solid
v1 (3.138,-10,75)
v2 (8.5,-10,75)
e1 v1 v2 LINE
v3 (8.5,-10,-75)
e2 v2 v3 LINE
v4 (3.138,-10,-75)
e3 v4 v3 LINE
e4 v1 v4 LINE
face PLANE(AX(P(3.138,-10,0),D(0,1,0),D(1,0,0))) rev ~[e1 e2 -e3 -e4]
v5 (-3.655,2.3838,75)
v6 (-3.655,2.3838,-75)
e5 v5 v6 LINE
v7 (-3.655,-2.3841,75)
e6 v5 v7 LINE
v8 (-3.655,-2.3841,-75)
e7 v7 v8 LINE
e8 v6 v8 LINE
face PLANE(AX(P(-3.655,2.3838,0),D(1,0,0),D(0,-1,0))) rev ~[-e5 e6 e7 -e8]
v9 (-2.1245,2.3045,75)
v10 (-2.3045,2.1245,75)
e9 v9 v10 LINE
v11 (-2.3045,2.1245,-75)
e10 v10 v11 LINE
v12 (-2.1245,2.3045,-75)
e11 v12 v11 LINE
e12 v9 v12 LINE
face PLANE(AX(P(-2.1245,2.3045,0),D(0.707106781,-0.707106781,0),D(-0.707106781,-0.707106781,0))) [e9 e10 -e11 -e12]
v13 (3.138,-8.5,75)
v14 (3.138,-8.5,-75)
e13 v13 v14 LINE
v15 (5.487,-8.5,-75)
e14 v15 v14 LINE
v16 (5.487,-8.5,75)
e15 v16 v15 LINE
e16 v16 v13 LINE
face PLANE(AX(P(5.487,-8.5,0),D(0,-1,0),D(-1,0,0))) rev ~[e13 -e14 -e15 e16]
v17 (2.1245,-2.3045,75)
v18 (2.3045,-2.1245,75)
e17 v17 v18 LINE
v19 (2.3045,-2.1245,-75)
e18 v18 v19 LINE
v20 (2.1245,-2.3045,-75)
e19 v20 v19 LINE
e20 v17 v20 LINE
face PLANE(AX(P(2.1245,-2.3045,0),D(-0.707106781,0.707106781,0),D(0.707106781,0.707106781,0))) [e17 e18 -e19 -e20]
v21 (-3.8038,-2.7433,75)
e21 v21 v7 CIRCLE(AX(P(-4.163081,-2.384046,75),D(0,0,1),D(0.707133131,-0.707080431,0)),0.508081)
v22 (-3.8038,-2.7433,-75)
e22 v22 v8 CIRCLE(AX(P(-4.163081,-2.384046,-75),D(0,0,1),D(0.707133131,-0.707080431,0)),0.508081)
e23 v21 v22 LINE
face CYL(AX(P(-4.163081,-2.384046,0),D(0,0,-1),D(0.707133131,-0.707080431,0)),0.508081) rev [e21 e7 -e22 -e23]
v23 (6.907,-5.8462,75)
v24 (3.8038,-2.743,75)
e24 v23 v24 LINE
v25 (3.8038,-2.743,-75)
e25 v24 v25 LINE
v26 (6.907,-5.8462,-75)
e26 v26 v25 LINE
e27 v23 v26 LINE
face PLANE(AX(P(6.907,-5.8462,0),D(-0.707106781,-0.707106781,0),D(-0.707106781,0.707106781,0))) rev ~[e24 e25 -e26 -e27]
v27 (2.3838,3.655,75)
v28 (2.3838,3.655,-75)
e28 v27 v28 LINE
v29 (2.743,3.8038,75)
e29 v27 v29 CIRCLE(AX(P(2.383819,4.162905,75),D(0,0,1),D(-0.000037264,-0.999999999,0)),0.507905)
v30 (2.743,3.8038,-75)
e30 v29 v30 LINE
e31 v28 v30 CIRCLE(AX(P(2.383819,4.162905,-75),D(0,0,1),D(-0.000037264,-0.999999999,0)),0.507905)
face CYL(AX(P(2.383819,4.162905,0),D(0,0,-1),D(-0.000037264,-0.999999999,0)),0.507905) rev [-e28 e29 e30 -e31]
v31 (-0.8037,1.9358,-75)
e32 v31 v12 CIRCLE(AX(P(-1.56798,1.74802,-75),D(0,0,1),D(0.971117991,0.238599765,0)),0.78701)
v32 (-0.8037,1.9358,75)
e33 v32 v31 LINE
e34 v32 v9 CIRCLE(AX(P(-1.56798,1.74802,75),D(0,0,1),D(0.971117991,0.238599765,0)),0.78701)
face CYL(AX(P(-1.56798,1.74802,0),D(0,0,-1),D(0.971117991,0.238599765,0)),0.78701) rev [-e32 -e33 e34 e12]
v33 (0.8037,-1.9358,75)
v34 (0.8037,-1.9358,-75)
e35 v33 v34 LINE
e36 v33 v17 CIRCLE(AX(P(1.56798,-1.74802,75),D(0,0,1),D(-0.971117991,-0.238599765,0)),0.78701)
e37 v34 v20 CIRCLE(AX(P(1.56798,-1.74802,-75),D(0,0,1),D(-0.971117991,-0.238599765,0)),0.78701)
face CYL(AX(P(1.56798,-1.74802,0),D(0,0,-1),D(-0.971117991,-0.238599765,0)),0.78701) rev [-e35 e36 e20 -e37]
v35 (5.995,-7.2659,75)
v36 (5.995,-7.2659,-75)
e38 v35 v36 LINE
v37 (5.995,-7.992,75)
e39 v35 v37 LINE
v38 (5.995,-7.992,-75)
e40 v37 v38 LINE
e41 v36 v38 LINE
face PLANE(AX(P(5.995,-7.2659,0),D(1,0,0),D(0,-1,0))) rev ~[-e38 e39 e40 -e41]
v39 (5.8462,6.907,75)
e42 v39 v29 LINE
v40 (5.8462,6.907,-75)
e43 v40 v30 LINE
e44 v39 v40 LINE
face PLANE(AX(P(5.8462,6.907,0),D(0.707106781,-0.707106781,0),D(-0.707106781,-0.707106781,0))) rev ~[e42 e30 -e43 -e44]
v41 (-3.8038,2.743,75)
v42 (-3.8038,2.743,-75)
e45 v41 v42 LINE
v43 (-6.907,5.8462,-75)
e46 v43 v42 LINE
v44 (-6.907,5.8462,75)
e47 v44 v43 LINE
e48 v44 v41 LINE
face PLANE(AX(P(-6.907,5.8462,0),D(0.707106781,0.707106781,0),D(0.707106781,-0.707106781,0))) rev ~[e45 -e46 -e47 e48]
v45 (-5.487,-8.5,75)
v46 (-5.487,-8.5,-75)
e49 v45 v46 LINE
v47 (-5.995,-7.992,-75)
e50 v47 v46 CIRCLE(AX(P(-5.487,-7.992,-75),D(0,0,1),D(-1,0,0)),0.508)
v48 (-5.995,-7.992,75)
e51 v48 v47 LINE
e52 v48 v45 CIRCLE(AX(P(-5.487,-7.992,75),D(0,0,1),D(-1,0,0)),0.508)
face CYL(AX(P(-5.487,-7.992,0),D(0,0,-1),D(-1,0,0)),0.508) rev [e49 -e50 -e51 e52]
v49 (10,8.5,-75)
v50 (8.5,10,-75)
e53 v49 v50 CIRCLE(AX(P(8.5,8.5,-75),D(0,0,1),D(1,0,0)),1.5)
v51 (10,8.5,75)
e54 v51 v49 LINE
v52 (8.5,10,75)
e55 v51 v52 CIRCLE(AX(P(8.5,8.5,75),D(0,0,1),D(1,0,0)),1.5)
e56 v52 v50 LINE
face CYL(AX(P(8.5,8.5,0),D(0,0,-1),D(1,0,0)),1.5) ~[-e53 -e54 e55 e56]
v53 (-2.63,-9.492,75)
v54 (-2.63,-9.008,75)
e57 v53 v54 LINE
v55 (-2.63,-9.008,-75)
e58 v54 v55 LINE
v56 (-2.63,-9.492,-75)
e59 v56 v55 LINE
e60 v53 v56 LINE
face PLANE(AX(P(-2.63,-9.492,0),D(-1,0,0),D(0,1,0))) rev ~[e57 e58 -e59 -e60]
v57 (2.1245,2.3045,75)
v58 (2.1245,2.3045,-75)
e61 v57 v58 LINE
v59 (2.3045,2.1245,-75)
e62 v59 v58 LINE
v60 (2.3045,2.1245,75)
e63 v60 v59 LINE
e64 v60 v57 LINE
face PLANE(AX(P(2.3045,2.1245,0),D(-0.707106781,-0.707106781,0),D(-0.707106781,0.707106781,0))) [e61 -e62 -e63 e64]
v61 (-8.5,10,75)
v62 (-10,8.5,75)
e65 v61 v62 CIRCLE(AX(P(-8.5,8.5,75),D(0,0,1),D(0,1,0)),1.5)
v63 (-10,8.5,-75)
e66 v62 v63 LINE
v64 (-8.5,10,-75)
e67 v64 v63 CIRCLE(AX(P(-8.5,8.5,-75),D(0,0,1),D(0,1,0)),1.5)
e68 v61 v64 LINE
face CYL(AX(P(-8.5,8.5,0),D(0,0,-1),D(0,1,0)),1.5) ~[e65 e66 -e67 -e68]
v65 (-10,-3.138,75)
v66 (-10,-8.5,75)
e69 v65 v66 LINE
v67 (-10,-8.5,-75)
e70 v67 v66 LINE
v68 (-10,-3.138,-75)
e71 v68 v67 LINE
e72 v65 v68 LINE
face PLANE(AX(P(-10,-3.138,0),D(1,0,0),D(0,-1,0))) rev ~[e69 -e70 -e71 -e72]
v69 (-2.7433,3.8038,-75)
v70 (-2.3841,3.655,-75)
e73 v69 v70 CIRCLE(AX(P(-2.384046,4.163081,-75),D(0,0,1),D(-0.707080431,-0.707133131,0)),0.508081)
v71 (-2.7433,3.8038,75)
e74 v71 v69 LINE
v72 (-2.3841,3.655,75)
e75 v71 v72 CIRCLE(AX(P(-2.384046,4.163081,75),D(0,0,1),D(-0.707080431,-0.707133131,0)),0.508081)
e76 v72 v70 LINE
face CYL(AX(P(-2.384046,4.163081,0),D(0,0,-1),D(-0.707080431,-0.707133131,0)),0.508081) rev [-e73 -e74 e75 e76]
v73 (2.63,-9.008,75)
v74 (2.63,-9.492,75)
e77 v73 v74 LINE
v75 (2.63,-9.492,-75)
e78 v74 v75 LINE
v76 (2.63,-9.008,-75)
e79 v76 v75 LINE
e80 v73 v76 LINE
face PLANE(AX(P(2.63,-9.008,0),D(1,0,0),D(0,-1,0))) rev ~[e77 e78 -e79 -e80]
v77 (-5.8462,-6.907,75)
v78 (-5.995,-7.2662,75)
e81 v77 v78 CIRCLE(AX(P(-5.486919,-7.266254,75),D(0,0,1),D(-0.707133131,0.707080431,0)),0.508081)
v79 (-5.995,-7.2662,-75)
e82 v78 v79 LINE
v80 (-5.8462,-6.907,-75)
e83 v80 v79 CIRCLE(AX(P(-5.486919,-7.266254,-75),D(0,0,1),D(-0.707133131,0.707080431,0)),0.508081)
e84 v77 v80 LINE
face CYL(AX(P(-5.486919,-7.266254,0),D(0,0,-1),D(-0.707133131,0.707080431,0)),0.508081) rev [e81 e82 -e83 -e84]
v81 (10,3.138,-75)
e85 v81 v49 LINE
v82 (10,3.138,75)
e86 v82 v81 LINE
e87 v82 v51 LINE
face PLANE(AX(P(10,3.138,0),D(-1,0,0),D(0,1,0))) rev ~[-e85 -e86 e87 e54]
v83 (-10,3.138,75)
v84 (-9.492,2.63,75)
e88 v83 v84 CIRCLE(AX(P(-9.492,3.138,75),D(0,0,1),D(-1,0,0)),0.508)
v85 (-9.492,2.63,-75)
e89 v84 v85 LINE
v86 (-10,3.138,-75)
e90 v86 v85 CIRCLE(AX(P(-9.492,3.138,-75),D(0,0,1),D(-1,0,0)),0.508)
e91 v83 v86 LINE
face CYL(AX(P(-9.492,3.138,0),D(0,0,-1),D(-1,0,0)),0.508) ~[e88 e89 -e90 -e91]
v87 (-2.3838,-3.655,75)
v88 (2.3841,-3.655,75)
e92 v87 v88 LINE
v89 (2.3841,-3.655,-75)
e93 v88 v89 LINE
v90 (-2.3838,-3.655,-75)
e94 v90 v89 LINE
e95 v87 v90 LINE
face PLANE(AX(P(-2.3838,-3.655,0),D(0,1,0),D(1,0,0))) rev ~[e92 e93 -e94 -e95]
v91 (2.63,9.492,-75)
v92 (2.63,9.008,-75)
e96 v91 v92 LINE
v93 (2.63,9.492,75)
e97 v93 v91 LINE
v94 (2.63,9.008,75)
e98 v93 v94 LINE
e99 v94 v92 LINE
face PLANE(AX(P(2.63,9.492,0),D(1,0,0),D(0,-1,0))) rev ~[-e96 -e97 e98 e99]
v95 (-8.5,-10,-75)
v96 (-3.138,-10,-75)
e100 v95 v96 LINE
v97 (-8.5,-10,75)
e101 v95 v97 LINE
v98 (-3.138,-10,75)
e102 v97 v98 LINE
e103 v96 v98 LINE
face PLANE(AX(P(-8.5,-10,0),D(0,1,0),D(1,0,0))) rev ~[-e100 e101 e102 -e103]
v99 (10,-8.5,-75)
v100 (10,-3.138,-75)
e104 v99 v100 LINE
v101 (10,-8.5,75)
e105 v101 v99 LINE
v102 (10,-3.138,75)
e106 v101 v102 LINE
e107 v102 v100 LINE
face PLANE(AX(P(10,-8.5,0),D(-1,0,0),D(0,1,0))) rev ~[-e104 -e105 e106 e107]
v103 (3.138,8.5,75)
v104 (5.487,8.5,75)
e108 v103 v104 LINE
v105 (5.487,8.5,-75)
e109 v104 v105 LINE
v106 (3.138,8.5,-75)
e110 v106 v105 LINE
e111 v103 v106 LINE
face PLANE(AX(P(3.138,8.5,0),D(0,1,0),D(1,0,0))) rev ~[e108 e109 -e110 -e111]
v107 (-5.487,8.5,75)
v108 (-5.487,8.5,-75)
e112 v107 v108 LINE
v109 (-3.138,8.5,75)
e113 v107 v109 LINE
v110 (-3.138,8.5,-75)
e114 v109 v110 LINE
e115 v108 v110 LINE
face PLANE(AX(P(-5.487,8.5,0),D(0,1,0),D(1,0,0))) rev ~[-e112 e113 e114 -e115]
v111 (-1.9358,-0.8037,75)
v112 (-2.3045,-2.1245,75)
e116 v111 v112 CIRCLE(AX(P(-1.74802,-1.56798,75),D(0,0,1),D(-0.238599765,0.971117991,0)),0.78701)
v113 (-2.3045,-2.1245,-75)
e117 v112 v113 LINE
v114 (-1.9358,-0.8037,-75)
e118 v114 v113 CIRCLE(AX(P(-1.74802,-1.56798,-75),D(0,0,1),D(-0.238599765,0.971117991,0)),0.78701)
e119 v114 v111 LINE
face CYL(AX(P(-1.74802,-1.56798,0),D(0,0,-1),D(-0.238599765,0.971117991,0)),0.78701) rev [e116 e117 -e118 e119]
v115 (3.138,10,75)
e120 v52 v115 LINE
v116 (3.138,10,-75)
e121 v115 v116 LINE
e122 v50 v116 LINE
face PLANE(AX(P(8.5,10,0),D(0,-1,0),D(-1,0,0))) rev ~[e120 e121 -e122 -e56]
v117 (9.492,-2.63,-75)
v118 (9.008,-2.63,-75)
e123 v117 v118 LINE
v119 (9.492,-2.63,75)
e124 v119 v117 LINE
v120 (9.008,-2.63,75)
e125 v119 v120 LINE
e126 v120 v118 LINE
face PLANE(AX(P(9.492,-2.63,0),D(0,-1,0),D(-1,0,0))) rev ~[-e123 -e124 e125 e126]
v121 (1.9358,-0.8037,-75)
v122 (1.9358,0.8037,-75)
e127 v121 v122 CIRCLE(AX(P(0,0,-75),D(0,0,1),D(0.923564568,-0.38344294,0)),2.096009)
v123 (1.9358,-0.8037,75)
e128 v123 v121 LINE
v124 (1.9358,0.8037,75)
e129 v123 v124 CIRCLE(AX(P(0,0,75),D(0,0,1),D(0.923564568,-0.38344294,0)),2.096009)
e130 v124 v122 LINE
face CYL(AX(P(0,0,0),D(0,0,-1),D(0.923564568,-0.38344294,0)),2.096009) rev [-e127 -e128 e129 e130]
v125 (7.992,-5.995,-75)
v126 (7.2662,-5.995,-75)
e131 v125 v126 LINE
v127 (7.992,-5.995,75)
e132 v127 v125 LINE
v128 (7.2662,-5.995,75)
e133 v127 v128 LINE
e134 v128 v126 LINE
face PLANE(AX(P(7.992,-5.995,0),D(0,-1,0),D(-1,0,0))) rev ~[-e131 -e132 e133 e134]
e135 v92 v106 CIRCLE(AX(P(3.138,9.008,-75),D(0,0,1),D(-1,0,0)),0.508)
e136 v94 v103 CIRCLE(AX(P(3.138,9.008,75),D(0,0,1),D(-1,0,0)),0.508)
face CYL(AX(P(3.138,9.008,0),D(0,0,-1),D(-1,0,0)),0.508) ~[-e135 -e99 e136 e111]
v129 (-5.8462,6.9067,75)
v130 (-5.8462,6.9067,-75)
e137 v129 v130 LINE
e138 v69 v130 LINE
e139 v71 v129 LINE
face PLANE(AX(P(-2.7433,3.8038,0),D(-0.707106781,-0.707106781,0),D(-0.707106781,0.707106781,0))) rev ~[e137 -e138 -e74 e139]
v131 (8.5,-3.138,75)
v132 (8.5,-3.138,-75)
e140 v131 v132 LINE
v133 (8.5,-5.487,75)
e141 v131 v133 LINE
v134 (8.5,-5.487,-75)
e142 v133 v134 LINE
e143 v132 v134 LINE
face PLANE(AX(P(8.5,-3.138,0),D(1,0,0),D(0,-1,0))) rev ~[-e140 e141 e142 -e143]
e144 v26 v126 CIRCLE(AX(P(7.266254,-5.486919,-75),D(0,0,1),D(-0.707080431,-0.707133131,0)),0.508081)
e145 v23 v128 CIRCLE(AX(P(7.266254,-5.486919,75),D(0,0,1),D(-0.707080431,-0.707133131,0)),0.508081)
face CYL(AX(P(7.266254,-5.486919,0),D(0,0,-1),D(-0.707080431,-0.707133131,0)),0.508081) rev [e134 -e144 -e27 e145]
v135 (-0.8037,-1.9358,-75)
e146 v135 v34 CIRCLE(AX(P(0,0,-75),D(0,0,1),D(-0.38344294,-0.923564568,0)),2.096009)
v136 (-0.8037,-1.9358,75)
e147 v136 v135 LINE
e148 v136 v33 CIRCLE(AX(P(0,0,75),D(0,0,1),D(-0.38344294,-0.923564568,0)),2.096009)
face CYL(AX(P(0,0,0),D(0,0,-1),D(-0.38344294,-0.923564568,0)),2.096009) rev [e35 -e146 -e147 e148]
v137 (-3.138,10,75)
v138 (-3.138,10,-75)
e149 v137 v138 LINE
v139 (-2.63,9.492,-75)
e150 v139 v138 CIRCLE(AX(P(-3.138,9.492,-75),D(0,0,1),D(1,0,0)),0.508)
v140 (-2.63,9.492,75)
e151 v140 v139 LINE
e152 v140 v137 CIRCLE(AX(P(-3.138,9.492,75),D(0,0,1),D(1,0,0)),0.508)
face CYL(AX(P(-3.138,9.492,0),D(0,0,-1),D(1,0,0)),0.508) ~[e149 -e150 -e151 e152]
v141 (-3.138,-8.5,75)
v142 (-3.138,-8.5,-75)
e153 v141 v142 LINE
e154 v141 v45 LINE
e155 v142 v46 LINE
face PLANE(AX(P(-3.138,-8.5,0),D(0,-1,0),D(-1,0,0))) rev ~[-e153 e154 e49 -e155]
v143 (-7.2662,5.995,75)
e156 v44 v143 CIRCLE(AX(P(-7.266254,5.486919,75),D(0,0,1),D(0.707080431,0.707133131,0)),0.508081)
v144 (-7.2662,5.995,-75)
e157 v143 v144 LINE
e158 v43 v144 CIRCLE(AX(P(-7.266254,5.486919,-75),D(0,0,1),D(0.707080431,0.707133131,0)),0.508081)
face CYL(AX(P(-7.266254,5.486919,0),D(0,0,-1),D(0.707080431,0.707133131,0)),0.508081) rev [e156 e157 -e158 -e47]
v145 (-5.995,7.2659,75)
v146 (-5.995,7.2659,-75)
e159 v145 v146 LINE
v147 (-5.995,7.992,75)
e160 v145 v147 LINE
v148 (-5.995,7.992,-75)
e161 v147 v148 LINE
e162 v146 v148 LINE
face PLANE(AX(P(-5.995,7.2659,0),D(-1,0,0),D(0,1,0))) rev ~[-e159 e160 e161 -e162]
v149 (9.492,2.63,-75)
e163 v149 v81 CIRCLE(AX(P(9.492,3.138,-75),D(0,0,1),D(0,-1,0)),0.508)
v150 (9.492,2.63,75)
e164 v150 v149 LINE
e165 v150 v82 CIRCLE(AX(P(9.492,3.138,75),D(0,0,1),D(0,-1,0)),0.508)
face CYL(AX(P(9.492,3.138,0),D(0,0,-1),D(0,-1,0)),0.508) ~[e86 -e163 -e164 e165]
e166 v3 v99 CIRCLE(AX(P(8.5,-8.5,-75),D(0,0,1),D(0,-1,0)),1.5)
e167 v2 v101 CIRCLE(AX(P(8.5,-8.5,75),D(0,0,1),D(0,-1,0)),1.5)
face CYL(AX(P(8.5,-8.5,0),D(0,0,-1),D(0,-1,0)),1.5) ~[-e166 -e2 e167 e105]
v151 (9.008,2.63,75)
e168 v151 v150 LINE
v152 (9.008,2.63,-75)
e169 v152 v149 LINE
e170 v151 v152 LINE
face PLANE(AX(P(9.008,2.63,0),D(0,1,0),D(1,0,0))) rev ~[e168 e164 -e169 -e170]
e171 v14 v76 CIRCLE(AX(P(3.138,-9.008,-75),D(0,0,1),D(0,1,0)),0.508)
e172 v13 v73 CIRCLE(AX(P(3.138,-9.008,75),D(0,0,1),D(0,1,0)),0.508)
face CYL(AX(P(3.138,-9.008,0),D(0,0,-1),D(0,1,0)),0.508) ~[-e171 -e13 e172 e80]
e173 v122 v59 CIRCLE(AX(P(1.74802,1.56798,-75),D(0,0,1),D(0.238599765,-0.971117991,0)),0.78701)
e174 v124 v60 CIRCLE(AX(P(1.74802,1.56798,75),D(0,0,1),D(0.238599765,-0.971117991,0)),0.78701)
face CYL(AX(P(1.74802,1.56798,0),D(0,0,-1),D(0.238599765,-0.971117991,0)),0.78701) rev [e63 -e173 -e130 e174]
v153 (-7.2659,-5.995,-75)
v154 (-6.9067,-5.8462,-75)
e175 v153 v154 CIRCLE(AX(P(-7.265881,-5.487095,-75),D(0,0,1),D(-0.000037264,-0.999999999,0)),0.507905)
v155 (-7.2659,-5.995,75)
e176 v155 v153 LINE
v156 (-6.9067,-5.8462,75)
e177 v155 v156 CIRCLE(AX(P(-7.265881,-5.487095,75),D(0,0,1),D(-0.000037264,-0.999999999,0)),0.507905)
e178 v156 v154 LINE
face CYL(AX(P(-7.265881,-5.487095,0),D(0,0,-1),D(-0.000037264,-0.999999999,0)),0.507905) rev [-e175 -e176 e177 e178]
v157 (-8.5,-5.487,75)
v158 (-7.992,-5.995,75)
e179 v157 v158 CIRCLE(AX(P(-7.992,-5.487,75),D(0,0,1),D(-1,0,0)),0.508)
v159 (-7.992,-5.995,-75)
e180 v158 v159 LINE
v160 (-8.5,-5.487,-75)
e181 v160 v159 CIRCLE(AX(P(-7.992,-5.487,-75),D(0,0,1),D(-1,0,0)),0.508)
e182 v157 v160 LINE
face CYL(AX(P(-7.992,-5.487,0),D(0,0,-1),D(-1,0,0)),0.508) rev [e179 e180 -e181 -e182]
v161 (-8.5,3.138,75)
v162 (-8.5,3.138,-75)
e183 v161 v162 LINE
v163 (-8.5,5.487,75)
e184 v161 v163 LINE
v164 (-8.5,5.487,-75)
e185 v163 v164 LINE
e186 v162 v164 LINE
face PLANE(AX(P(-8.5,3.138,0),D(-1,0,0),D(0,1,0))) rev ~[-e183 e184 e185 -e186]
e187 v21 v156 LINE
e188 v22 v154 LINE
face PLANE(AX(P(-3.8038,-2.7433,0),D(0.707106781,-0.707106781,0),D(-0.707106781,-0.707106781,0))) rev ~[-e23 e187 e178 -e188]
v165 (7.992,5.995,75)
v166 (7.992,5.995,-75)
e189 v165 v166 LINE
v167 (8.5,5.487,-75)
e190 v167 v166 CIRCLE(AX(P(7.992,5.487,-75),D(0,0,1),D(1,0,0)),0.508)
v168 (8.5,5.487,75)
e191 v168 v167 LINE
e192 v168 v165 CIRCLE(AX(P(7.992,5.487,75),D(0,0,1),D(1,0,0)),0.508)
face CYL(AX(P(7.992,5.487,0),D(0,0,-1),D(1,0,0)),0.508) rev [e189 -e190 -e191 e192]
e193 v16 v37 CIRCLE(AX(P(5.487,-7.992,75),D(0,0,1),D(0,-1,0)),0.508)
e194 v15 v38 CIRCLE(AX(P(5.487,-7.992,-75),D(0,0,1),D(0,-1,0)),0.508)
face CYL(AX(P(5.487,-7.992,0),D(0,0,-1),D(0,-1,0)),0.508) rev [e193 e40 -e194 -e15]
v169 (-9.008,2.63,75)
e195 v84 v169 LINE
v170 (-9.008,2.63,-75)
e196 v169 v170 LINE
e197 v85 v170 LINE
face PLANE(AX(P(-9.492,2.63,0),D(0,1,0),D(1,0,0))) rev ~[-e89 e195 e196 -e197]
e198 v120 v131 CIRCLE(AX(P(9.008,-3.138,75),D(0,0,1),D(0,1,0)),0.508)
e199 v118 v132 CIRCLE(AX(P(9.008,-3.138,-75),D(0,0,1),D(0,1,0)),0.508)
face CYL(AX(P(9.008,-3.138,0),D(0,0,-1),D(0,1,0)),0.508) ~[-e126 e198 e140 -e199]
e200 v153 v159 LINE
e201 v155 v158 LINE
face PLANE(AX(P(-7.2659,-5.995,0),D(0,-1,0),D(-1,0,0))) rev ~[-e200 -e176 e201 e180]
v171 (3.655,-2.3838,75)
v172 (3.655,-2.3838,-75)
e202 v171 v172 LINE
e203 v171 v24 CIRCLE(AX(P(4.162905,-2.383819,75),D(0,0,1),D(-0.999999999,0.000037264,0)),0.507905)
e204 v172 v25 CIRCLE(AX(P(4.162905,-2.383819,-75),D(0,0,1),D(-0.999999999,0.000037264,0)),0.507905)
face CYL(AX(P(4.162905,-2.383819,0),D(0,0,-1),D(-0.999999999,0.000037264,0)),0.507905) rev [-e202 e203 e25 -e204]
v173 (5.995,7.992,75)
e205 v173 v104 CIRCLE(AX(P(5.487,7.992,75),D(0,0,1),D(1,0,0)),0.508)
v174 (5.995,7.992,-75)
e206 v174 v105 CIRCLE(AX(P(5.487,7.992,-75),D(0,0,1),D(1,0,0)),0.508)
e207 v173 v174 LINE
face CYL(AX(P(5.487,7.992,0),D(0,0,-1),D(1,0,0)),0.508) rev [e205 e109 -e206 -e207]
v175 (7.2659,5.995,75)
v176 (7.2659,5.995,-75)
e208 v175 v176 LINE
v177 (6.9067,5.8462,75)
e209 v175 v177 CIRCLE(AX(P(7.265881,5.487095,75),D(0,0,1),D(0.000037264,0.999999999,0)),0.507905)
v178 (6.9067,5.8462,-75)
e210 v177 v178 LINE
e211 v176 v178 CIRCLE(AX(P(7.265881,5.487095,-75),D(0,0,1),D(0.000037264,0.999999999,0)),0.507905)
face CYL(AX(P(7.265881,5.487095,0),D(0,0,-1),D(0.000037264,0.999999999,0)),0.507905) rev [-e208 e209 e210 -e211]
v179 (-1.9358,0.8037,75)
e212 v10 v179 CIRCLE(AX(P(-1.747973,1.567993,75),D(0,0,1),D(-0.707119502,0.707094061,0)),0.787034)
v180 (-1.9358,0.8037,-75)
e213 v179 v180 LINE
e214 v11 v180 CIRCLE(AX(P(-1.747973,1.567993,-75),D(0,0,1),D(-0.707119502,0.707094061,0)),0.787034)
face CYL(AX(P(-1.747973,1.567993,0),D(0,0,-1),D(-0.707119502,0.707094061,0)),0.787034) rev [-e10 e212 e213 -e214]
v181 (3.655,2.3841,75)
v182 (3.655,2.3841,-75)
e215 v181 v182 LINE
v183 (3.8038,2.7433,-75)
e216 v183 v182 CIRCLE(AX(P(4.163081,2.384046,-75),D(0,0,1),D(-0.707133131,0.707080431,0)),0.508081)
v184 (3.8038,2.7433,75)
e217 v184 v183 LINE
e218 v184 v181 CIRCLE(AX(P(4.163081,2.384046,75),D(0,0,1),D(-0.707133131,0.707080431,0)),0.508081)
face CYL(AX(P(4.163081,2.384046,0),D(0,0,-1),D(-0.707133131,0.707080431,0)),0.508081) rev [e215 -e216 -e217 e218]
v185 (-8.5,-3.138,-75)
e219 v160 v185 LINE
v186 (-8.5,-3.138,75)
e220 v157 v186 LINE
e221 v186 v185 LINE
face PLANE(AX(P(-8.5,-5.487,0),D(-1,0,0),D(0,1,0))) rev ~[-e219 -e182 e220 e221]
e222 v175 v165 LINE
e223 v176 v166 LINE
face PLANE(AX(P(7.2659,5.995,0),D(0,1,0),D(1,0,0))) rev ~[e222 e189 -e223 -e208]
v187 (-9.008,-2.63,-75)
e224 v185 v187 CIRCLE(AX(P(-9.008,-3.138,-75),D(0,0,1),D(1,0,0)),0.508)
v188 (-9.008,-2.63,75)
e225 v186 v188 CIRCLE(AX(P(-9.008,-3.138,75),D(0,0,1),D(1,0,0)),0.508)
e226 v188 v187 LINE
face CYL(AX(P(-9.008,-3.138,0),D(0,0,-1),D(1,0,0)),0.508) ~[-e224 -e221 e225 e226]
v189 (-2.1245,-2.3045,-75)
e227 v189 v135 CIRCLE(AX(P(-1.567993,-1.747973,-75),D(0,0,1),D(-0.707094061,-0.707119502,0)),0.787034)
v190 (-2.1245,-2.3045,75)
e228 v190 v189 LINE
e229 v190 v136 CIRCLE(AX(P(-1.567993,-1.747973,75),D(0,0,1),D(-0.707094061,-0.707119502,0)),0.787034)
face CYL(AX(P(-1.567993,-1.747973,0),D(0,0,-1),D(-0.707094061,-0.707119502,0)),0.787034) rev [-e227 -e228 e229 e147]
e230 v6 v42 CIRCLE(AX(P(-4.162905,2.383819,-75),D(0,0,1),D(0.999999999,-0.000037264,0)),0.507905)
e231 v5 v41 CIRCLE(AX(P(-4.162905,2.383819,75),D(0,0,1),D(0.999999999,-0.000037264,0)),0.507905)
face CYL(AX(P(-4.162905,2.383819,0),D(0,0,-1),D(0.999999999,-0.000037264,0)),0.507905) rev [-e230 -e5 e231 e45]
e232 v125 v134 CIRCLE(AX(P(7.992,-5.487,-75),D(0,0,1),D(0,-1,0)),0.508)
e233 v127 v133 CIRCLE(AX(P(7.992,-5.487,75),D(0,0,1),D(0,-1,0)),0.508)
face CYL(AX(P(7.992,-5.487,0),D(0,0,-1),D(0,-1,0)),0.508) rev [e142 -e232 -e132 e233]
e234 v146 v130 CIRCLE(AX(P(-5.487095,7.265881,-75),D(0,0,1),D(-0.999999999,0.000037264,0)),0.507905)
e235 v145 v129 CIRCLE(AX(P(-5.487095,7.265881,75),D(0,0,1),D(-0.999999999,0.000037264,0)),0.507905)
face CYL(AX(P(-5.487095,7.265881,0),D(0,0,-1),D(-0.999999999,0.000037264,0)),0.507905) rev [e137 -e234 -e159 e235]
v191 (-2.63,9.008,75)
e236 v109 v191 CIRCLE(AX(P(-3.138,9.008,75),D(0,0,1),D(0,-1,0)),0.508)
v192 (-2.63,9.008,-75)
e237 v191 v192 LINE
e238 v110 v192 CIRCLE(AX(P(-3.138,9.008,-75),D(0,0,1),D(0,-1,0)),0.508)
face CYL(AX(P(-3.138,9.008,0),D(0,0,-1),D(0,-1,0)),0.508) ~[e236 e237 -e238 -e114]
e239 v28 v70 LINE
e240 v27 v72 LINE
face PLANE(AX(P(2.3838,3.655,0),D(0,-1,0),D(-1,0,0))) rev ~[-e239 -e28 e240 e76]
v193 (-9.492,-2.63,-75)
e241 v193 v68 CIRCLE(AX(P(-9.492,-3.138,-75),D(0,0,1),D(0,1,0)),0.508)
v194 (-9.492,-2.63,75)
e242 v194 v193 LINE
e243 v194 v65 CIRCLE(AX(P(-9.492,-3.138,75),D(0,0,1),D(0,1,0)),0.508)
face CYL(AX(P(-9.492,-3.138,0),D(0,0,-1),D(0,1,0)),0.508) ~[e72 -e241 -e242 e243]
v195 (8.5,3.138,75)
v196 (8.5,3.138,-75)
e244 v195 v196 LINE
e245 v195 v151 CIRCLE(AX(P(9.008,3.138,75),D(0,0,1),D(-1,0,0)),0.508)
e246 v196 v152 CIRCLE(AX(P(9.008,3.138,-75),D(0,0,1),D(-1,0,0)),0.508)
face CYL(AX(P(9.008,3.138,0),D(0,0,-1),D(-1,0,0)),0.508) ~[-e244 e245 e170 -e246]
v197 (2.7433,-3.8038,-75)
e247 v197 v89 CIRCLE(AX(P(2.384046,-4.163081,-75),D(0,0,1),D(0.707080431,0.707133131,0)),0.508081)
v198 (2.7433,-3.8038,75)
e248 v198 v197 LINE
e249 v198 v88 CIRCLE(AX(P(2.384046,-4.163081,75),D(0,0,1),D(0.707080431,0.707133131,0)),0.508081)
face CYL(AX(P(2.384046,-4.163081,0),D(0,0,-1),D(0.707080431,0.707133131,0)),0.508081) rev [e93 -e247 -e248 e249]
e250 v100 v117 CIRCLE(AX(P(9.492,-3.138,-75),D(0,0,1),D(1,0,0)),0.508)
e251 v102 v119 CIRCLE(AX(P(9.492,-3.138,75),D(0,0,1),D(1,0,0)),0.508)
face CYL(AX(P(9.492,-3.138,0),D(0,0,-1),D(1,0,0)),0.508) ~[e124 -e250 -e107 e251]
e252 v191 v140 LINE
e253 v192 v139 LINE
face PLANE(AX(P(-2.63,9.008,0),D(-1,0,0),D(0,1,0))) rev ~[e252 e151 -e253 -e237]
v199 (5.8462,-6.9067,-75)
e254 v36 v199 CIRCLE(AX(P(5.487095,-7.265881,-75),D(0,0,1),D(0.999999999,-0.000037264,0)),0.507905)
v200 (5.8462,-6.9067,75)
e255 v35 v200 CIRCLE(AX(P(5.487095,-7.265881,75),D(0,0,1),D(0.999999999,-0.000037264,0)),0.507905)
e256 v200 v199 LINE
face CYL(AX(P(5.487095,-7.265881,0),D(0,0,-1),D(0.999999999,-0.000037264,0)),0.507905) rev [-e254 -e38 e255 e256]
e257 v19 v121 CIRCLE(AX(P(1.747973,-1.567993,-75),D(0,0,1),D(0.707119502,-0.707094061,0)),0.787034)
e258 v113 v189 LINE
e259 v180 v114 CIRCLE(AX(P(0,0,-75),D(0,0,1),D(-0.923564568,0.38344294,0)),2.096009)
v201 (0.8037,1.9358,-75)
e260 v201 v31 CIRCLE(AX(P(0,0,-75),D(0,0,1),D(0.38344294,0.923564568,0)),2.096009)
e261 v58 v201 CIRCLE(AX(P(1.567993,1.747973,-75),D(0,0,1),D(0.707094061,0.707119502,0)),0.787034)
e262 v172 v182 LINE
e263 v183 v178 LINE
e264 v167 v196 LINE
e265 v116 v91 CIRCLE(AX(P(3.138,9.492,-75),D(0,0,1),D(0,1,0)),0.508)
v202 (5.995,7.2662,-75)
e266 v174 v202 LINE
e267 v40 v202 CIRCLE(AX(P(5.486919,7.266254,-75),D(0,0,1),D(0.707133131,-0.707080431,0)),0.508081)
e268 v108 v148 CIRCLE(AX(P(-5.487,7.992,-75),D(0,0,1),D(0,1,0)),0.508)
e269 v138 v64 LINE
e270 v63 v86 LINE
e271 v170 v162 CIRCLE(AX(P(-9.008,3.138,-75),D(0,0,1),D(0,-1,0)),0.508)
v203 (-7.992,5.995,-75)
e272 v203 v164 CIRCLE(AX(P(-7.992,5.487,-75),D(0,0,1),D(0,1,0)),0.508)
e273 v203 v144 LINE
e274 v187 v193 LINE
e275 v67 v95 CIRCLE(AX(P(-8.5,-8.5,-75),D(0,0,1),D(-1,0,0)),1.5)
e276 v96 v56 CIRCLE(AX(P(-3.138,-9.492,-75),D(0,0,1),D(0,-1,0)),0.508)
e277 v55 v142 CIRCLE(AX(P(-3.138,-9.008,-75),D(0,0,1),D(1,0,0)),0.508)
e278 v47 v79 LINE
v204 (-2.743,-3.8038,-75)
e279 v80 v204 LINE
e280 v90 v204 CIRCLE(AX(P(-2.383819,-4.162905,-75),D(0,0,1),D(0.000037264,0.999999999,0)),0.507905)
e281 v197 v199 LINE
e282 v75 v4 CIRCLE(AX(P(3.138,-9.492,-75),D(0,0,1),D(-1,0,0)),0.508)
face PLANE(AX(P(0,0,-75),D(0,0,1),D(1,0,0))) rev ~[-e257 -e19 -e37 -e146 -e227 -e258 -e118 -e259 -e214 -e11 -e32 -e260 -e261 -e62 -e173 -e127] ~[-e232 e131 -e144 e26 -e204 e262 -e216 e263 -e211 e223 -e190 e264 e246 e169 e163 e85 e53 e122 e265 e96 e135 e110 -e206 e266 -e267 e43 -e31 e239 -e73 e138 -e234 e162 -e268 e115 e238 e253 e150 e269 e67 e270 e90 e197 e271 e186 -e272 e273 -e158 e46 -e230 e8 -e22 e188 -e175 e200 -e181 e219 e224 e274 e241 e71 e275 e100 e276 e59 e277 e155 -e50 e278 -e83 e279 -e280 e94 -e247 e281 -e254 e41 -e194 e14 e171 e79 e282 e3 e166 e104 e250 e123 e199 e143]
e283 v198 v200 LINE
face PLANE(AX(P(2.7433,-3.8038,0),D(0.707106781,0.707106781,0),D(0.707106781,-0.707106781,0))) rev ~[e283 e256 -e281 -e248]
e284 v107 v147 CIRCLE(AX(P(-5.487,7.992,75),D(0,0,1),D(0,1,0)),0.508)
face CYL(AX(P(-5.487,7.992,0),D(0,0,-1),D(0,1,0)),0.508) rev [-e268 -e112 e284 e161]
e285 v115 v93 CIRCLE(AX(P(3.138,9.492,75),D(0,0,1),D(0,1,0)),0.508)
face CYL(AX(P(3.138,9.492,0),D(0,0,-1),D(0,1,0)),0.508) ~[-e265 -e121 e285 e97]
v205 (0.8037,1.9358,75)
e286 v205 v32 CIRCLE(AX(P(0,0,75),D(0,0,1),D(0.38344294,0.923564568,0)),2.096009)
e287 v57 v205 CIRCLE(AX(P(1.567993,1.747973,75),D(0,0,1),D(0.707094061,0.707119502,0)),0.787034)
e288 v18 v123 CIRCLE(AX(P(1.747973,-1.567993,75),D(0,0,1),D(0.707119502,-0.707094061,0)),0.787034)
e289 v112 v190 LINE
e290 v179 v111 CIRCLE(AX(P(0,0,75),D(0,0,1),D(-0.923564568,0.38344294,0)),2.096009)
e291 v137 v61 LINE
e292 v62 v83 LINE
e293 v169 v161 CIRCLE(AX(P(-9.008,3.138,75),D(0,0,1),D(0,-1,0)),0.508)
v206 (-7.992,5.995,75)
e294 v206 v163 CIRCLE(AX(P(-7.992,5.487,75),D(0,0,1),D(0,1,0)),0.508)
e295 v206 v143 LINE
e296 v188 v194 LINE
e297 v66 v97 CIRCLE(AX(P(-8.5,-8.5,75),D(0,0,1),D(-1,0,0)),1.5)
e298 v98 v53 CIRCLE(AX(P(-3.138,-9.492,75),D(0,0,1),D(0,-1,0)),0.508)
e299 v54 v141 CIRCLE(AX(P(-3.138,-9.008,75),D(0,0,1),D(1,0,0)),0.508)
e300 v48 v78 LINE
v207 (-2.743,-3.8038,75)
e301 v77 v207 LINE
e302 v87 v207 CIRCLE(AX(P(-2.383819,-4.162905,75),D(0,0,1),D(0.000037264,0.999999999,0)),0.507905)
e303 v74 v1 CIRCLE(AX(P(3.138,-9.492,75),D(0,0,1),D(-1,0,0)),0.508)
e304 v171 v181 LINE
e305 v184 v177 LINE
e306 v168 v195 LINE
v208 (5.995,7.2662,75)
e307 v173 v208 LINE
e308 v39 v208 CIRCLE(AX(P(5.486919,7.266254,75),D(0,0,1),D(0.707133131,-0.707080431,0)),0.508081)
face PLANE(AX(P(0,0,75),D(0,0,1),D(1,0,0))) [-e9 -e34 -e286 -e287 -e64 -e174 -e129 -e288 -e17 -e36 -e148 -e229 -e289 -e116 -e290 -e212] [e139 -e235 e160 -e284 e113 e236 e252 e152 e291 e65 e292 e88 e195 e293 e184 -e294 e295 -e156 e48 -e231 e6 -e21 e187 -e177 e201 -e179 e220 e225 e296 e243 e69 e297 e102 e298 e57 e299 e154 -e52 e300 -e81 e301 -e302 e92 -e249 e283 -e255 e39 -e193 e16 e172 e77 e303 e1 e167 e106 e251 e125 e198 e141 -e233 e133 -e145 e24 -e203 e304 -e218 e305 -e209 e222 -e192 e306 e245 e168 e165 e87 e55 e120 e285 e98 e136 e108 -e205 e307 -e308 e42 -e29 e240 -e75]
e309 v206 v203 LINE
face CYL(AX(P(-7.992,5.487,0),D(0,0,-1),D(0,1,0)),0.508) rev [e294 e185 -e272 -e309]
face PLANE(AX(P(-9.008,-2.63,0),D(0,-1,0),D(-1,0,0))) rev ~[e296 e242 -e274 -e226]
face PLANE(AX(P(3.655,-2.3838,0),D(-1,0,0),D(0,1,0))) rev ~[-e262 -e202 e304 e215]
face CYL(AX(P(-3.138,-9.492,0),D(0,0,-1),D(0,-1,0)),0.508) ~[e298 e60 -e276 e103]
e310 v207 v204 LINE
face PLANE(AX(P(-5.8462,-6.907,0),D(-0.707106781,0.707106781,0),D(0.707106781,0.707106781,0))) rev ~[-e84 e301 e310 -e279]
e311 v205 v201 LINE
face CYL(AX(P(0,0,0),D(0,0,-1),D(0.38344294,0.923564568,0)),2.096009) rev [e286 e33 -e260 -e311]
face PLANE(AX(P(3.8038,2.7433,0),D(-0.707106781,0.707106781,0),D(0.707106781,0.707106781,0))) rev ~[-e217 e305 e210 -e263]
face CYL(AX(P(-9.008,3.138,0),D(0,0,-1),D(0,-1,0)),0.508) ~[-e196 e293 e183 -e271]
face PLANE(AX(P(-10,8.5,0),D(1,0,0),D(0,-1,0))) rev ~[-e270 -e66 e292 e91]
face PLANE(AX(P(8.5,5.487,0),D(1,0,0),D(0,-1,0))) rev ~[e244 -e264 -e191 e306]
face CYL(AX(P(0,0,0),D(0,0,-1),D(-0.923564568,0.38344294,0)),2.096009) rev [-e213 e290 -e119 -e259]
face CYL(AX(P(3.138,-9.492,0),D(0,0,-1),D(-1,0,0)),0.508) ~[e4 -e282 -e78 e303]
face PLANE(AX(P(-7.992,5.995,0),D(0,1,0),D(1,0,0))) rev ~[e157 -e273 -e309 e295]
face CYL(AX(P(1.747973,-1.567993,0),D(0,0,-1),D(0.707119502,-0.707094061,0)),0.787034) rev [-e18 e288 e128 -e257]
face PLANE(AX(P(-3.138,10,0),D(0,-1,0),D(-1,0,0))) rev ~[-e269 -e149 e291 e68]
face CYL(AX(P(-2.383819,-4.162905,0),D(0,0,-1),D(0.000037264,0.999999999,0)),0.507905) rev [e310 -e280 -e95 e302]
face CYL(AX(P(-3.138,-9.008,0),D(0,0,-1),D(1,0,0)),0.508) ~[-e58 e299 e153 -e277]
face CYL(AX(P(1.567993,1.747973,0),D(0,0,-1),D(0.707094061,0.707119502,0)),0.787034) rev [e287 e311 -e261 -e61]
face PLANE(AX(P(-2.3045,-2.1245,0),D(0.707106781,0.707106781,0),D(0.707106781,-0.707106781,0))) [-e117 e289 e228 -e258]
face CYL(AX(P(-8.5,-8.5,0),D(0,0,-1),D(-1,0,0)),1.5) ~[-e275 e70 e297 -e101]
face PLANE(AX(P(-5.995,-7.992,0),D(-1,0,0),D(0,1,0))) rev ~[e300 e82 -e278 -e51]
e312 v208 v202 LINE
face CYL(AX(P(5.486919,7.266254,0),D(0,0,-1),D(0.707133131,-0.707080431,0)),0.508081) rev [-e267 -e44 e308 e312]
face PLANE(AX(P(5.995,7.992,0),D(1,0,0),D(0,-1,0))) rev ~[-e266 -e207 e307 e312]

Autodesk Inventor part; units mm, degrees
ref_plane "YZ Plane" through (0, 0, 0) normal (1, 0, 0) x (0, 1, 0)
ref_plane "XZ Plane" through (0, 0, 0) normal (0, 1, 0) x (-1, 0, 0)
ref_plane "XY Plane" through (0, 0, 0) normal (0, 0, 1) x (1, 0, 0)
sketch "Sketch1" plane through (0, 0, 0) normal (0, 0, 1) x (1, 0, 0)
  arc A0 (-10, -8.5) -> (-8.5, -10) centre (-8.5, -8.5) ccw
  line L0 (-8.5, -10) -> (-3.138, -10)
  arc A1 (-3.138, -10) -> (-2.63, -9.492) centre (-3.138, -9.492) ccw
  line L1 (-2.63, -9.492) -> (-2.63, -9.008)
  arc A2 (-2.63, -9.008) -> (-3.138, -8.5) centre (-3.138, -9.008) ccw
  line L2 (-3.138, -8.5) -> (-5.487, -8.5)
  arc A3 (-5.995, -7.992) -> (-5.487, -8.5) centre (-5.487, -7.992) ccw
  line L3 (-5.995, -7.992) -> (-5.995, -7.2662)
  arc A4 (-5.8462, -6.907) -> (-5.995, -7.2662) centre (-5.487, -7.2662) ccw
  line L4 (-5.8462, -6.907) -> (-2.743, -3.8038)
  arc A5 (-2.3838, -3.655) -> (-2.743, -3.8038) centre (-2.3838, -4.163) ccw
  line L5 (-2.3838, -3.655) -> (2.3841, -3.655)
  arc A6 (2.7433, -3.8038) -> (2.3841, -3.655) centre (2.3841, -4.163) ccw
  line L6 (2.7433, -3.8038) -> (5.8462, -6.9067)
  arc A7 (5.995, -7.2659) -> (5.8462, -6.9067) centre (5.487, -7.2659) ccw
  line L7 (5.995, -7.2659) -> (5.995, -7.992)
  arc A8 (5.487, -8.5) -> (5.995, -7.992) centre (5.487, -7.992) ccw
  line L8 (5.487, -8.5) -> (3.138, -8.5)
  arc A9 (3.138, -8.5) -> (2.63, -9.008) centre (3.138, -9.008) ccw
  line L9 (2.63, -9.008) -> (2.63, -9.492)
  arc A10 (2.63, -9.492) -> (3.138, -10) centre (3.138, -9.492) ccw
  line L10 (3.138, -10) -> (8.5, -10)
  arc A11 (8.5, -10) -> (10, -8.5) centre (8.5, -8.5) ccw
  line L11 (10, -8.5) -> (10, -3.138)
  arc A12 (10, -3.138) -> (9.492, -2.63) centre (9.492, -3.138) ccw
  line L12 (9.492, -2.63) -> (9.008, -2.63)
  arc A13 (9.008, -2.63) -> (8.5, -3.138) centre (9.008, -3.138) ccw
  line L13 (8.5, -3.138) -> (8.5, -5.487)
  arc A14 (7.992, -5.995) -> (8.5, -5.487) centre (7.992, -5.487) ccw
  line L14 (7.992, -5.995) -> (7.2662, -5.995)
  arc A15 (6.907, -5.8462) -> (7.2662, -5.995) centre (7.2662, -5.487) ccw
  line L15 (6.907, -5.8462) -> (3.8038, -2.743)
  arc A16 (3.655, -2.3838) -> (3.8038, -2.743) centre (4.163, -2.3838) ccw
  line L16 (3.655, -2.3838) -> (3.655, 2.3841)
  arc A17 (3.8038, 2.7433) -> (3.655, 2.3841) centre (4.163, 2.3841) ccw
  line L17 (3.8038, 2.7433) -> (6.9067, 5.8462)
  arc A18 (7.2659, 5.995) -> (6.9067, 5.8462) centre (7.2659, 5.487) ccw
  line L18 (7.2659, 5.995) -> (7.992, 5.995)
  arc A19 (8.5, 5.487) -> (7.992, 5.995) centre (7.992, 5.487) ccw
  line L19 (8.5, 5.487) -> (8.5, 3.138)
  arc A20 (8.5, 3.138) -> (9.008, 2.63) centre (9.008, 3.138) ccw
  line L20 (9.008, 2.63) -> (9.492, 2.63)
  arc A21 (9.492, 2.63) -> (10, 3.138) centre (9.492, 3.138) ccw
  line L21 (10, 3.138) -> (10, 8.5)
  arc A22 (10, 8.5) -> (8.5, 10) centre (8.5, 8.5) ccw
  line L22 (8.5, 10) -> (3.138, 10)
  arc A23 (3.138, 10) -> (2.63, 9.492) centre (3.138, 9.492) ccw
  line L23 (2.63, 9.492) -> (2.63, 9.008)
  arc A24 (2.63, 9.008) -> (3.138, 8.5) centre (3.138, 9.008) ccw
  line L24 (3.138, 8.5) -> (5.487, 8.5)
  arc A25 (5.995, 7.992) -> (5.487, 8.5) centre (5.487, 7.992) ccw
  line L25 (5.995, 7.992) -> (5.995, 7.2662)
  arc A26 (5.8462, 6.907) -> (5.995, 7.2662) centre (5.487, 7.2662) ccw
  line L26 (5.8462, 6.907) -> (2.743, 3.8038)
  arc A27 (2.3838, 3.655) -> (2.743, 3.8038) centre (2.3838, 4.163) ccw
  line L27 (2.3838, 3.655) -> (-2.3841, 3.655)
  arc A28 (-2.7433, 3.8038) -> (-2.3841, 3.655) centre (-2.3841, 4.163) ccw
  line L28 (-2.7433, 3.8038) -> (-5.8462, 6.9067)
  arc A29 (-5.995, 7.2659) -> (-5.8462, 6.9067) centre (-5.487, 7.2659) ccw
  line L29 (-5.995, 7.2659) -> (-5.995, 7.992)
  arc A30 (-5.487, 8.5) -> (-5.995, 7.992) centre (-5.487, 7.992) ccw
  line L30 (-5.487, 8.5) -> (-3.138, 8.5)
  arc A31 (-3.138, 8.5) -> (-2.63, 9.008) centre (-3.138, 9.008) ccw
  line L31 (-2.63, 9.008) -> (-2.63, 9.492)
  arc A32 (-2.63, 9.492) -> (-3.138, 10) centre (-3.138, 9.492) ccw
  line L32 (-3.138, 10) -> (-8.5, 10)
  arc A33 (-8.5, 10) -> (-10, 8.5) centre (-8.5, 8.5) ccw
  line L33 (-10, 8.5) -> (-10, 3.138)
  arc A34 (-10, 3.138) -> (-9.492, 2.63) centre (-9.492, 3.138) ccw
  line L34 (-9.492, 2.63) -> (-9.008, 2.63)
  arc A35 (-9.008, 2.63) -> (-8.5, 3.138) centre (-9.008, 3.138) ccw
  line L35 (-8.5, 3.138) -> (-8.5, 5.487)
  arc A36 (-7.992, 5.995) -> (-8.5, 5.487) centre (-7.992, 5.487) ccw
  line L36 (-7.992, 5.995) -> (-7.2662, 5.995)
  arc A37 (-6.907, 5.8462) -> (-7.2662, 5.995) centre (-7.2662, 5.487) ccw
  line L37 (-6.907, 5.8462) -> (-3.8038, 2.743)
  arc A38 (-3.655, 2.3838) -> (-3.8038, 2.743) centre (-4.163, 2.3838) ccw
  line L38 (-3.655, 2.3838) -> (-3.655, -2.3841)
  arc A39 (-3.8038, -2.7433) -> (-3.655, -2.3841) centre (-4.163, -2.3841) ccw
  line L39 (-3.8038, -2.7433) -> (-6.9067, -5.8462)
  arc A40 (-7.2659, -5.995) -> (-6.9067, -5.8462) centre (-7.2659, -5.487) ccw
  line L40 (-7.2659, -5.995) -> (-7.992, -5.995)
  arc A41 (-8.5, -5.487) -> (-7.992, -5.995) centre (-7.992, -5.487) ccw
  line L41 (-8.5, -5.487) -> (-8.5, -3.138)
  arc A42 (-8.5, -3.138) -> (-9.008, -2.63) centre (-9.008, -3.138) ccw
  line L42 (-9.008, -2.63) -> (-9.492, -2.63)
  arc A43 (-9.492, -2.63) -> (-10, -3.138) centre (-9.492, -3.138) ccw
  line L43 (-10, -3.138) -> (-10, -8.5)
  arc A44 (-1.9358, -0.8037) -> (-2.3045, -2.1245) centre (-1.748, -1.568) ccw
  line L44 (-2.3045, -2.1245) -> (-2.1245, -2.3045)
  arc A45 (-2.1245, -2.3045) -> (-0.8037, -1.9358) centre (-1.568, -1.748) ccw
  arc A46 (-0.8037, -1.9358) -> (0.8037, -1.9358) centre (0, 0) ccw
  arc A47 (0.8037, -1.9358) -> (2.1245, -2.3045) centre (1.568, -1.748) ccw
  line L45 (2.1245, -2.3045) -> (2.3045, -2.1245)
  arc A48 (2.3045, -2.1245) -> (1.9358, -0.8037) centre (1.748, -1.568) ccw
  arc A49 (1.9358, -0.8037) -> (1.9358, 0.8037) centre (0, 0) ccw
  arc A50 (1.9358, 0.8037) -> (2.3045, 2.1245) centre (1.748, 1.568) ccw
  line L46 (2.3045, 2.1245) -> (2.1245, 2.3045)
  arc A51 (2.1245, 2.3045) -> (0.8037, 1.9358) centre (1.568, 1.748) ccw
  arc A52 (0.8037, 1.9358) -> (-0.8037, 1.9358) centre (0, 0) ccw
  arc A53 (-0.8037, 1.9358) -> (-2.1245, 2.3045) centre (-1.568, 1.748) ccw
  line L47 (-2.1245, 2.3045) -> (-2.3045, 2.1245)
  arc A54 (-2.3045, 2.1245) -> (-1.9358, 0.8037) centre (-1.748, 1.568) ccw
  arc A55 (-1.9358, 0.8037) -> (-1.9358, -0.8037) centre (0, 0) ccw
  point P0 (0, 0)
extrude "Extrusion1" add sketch "Sketch1" along normal mid plane 150
properties part number "20-2020-285"
